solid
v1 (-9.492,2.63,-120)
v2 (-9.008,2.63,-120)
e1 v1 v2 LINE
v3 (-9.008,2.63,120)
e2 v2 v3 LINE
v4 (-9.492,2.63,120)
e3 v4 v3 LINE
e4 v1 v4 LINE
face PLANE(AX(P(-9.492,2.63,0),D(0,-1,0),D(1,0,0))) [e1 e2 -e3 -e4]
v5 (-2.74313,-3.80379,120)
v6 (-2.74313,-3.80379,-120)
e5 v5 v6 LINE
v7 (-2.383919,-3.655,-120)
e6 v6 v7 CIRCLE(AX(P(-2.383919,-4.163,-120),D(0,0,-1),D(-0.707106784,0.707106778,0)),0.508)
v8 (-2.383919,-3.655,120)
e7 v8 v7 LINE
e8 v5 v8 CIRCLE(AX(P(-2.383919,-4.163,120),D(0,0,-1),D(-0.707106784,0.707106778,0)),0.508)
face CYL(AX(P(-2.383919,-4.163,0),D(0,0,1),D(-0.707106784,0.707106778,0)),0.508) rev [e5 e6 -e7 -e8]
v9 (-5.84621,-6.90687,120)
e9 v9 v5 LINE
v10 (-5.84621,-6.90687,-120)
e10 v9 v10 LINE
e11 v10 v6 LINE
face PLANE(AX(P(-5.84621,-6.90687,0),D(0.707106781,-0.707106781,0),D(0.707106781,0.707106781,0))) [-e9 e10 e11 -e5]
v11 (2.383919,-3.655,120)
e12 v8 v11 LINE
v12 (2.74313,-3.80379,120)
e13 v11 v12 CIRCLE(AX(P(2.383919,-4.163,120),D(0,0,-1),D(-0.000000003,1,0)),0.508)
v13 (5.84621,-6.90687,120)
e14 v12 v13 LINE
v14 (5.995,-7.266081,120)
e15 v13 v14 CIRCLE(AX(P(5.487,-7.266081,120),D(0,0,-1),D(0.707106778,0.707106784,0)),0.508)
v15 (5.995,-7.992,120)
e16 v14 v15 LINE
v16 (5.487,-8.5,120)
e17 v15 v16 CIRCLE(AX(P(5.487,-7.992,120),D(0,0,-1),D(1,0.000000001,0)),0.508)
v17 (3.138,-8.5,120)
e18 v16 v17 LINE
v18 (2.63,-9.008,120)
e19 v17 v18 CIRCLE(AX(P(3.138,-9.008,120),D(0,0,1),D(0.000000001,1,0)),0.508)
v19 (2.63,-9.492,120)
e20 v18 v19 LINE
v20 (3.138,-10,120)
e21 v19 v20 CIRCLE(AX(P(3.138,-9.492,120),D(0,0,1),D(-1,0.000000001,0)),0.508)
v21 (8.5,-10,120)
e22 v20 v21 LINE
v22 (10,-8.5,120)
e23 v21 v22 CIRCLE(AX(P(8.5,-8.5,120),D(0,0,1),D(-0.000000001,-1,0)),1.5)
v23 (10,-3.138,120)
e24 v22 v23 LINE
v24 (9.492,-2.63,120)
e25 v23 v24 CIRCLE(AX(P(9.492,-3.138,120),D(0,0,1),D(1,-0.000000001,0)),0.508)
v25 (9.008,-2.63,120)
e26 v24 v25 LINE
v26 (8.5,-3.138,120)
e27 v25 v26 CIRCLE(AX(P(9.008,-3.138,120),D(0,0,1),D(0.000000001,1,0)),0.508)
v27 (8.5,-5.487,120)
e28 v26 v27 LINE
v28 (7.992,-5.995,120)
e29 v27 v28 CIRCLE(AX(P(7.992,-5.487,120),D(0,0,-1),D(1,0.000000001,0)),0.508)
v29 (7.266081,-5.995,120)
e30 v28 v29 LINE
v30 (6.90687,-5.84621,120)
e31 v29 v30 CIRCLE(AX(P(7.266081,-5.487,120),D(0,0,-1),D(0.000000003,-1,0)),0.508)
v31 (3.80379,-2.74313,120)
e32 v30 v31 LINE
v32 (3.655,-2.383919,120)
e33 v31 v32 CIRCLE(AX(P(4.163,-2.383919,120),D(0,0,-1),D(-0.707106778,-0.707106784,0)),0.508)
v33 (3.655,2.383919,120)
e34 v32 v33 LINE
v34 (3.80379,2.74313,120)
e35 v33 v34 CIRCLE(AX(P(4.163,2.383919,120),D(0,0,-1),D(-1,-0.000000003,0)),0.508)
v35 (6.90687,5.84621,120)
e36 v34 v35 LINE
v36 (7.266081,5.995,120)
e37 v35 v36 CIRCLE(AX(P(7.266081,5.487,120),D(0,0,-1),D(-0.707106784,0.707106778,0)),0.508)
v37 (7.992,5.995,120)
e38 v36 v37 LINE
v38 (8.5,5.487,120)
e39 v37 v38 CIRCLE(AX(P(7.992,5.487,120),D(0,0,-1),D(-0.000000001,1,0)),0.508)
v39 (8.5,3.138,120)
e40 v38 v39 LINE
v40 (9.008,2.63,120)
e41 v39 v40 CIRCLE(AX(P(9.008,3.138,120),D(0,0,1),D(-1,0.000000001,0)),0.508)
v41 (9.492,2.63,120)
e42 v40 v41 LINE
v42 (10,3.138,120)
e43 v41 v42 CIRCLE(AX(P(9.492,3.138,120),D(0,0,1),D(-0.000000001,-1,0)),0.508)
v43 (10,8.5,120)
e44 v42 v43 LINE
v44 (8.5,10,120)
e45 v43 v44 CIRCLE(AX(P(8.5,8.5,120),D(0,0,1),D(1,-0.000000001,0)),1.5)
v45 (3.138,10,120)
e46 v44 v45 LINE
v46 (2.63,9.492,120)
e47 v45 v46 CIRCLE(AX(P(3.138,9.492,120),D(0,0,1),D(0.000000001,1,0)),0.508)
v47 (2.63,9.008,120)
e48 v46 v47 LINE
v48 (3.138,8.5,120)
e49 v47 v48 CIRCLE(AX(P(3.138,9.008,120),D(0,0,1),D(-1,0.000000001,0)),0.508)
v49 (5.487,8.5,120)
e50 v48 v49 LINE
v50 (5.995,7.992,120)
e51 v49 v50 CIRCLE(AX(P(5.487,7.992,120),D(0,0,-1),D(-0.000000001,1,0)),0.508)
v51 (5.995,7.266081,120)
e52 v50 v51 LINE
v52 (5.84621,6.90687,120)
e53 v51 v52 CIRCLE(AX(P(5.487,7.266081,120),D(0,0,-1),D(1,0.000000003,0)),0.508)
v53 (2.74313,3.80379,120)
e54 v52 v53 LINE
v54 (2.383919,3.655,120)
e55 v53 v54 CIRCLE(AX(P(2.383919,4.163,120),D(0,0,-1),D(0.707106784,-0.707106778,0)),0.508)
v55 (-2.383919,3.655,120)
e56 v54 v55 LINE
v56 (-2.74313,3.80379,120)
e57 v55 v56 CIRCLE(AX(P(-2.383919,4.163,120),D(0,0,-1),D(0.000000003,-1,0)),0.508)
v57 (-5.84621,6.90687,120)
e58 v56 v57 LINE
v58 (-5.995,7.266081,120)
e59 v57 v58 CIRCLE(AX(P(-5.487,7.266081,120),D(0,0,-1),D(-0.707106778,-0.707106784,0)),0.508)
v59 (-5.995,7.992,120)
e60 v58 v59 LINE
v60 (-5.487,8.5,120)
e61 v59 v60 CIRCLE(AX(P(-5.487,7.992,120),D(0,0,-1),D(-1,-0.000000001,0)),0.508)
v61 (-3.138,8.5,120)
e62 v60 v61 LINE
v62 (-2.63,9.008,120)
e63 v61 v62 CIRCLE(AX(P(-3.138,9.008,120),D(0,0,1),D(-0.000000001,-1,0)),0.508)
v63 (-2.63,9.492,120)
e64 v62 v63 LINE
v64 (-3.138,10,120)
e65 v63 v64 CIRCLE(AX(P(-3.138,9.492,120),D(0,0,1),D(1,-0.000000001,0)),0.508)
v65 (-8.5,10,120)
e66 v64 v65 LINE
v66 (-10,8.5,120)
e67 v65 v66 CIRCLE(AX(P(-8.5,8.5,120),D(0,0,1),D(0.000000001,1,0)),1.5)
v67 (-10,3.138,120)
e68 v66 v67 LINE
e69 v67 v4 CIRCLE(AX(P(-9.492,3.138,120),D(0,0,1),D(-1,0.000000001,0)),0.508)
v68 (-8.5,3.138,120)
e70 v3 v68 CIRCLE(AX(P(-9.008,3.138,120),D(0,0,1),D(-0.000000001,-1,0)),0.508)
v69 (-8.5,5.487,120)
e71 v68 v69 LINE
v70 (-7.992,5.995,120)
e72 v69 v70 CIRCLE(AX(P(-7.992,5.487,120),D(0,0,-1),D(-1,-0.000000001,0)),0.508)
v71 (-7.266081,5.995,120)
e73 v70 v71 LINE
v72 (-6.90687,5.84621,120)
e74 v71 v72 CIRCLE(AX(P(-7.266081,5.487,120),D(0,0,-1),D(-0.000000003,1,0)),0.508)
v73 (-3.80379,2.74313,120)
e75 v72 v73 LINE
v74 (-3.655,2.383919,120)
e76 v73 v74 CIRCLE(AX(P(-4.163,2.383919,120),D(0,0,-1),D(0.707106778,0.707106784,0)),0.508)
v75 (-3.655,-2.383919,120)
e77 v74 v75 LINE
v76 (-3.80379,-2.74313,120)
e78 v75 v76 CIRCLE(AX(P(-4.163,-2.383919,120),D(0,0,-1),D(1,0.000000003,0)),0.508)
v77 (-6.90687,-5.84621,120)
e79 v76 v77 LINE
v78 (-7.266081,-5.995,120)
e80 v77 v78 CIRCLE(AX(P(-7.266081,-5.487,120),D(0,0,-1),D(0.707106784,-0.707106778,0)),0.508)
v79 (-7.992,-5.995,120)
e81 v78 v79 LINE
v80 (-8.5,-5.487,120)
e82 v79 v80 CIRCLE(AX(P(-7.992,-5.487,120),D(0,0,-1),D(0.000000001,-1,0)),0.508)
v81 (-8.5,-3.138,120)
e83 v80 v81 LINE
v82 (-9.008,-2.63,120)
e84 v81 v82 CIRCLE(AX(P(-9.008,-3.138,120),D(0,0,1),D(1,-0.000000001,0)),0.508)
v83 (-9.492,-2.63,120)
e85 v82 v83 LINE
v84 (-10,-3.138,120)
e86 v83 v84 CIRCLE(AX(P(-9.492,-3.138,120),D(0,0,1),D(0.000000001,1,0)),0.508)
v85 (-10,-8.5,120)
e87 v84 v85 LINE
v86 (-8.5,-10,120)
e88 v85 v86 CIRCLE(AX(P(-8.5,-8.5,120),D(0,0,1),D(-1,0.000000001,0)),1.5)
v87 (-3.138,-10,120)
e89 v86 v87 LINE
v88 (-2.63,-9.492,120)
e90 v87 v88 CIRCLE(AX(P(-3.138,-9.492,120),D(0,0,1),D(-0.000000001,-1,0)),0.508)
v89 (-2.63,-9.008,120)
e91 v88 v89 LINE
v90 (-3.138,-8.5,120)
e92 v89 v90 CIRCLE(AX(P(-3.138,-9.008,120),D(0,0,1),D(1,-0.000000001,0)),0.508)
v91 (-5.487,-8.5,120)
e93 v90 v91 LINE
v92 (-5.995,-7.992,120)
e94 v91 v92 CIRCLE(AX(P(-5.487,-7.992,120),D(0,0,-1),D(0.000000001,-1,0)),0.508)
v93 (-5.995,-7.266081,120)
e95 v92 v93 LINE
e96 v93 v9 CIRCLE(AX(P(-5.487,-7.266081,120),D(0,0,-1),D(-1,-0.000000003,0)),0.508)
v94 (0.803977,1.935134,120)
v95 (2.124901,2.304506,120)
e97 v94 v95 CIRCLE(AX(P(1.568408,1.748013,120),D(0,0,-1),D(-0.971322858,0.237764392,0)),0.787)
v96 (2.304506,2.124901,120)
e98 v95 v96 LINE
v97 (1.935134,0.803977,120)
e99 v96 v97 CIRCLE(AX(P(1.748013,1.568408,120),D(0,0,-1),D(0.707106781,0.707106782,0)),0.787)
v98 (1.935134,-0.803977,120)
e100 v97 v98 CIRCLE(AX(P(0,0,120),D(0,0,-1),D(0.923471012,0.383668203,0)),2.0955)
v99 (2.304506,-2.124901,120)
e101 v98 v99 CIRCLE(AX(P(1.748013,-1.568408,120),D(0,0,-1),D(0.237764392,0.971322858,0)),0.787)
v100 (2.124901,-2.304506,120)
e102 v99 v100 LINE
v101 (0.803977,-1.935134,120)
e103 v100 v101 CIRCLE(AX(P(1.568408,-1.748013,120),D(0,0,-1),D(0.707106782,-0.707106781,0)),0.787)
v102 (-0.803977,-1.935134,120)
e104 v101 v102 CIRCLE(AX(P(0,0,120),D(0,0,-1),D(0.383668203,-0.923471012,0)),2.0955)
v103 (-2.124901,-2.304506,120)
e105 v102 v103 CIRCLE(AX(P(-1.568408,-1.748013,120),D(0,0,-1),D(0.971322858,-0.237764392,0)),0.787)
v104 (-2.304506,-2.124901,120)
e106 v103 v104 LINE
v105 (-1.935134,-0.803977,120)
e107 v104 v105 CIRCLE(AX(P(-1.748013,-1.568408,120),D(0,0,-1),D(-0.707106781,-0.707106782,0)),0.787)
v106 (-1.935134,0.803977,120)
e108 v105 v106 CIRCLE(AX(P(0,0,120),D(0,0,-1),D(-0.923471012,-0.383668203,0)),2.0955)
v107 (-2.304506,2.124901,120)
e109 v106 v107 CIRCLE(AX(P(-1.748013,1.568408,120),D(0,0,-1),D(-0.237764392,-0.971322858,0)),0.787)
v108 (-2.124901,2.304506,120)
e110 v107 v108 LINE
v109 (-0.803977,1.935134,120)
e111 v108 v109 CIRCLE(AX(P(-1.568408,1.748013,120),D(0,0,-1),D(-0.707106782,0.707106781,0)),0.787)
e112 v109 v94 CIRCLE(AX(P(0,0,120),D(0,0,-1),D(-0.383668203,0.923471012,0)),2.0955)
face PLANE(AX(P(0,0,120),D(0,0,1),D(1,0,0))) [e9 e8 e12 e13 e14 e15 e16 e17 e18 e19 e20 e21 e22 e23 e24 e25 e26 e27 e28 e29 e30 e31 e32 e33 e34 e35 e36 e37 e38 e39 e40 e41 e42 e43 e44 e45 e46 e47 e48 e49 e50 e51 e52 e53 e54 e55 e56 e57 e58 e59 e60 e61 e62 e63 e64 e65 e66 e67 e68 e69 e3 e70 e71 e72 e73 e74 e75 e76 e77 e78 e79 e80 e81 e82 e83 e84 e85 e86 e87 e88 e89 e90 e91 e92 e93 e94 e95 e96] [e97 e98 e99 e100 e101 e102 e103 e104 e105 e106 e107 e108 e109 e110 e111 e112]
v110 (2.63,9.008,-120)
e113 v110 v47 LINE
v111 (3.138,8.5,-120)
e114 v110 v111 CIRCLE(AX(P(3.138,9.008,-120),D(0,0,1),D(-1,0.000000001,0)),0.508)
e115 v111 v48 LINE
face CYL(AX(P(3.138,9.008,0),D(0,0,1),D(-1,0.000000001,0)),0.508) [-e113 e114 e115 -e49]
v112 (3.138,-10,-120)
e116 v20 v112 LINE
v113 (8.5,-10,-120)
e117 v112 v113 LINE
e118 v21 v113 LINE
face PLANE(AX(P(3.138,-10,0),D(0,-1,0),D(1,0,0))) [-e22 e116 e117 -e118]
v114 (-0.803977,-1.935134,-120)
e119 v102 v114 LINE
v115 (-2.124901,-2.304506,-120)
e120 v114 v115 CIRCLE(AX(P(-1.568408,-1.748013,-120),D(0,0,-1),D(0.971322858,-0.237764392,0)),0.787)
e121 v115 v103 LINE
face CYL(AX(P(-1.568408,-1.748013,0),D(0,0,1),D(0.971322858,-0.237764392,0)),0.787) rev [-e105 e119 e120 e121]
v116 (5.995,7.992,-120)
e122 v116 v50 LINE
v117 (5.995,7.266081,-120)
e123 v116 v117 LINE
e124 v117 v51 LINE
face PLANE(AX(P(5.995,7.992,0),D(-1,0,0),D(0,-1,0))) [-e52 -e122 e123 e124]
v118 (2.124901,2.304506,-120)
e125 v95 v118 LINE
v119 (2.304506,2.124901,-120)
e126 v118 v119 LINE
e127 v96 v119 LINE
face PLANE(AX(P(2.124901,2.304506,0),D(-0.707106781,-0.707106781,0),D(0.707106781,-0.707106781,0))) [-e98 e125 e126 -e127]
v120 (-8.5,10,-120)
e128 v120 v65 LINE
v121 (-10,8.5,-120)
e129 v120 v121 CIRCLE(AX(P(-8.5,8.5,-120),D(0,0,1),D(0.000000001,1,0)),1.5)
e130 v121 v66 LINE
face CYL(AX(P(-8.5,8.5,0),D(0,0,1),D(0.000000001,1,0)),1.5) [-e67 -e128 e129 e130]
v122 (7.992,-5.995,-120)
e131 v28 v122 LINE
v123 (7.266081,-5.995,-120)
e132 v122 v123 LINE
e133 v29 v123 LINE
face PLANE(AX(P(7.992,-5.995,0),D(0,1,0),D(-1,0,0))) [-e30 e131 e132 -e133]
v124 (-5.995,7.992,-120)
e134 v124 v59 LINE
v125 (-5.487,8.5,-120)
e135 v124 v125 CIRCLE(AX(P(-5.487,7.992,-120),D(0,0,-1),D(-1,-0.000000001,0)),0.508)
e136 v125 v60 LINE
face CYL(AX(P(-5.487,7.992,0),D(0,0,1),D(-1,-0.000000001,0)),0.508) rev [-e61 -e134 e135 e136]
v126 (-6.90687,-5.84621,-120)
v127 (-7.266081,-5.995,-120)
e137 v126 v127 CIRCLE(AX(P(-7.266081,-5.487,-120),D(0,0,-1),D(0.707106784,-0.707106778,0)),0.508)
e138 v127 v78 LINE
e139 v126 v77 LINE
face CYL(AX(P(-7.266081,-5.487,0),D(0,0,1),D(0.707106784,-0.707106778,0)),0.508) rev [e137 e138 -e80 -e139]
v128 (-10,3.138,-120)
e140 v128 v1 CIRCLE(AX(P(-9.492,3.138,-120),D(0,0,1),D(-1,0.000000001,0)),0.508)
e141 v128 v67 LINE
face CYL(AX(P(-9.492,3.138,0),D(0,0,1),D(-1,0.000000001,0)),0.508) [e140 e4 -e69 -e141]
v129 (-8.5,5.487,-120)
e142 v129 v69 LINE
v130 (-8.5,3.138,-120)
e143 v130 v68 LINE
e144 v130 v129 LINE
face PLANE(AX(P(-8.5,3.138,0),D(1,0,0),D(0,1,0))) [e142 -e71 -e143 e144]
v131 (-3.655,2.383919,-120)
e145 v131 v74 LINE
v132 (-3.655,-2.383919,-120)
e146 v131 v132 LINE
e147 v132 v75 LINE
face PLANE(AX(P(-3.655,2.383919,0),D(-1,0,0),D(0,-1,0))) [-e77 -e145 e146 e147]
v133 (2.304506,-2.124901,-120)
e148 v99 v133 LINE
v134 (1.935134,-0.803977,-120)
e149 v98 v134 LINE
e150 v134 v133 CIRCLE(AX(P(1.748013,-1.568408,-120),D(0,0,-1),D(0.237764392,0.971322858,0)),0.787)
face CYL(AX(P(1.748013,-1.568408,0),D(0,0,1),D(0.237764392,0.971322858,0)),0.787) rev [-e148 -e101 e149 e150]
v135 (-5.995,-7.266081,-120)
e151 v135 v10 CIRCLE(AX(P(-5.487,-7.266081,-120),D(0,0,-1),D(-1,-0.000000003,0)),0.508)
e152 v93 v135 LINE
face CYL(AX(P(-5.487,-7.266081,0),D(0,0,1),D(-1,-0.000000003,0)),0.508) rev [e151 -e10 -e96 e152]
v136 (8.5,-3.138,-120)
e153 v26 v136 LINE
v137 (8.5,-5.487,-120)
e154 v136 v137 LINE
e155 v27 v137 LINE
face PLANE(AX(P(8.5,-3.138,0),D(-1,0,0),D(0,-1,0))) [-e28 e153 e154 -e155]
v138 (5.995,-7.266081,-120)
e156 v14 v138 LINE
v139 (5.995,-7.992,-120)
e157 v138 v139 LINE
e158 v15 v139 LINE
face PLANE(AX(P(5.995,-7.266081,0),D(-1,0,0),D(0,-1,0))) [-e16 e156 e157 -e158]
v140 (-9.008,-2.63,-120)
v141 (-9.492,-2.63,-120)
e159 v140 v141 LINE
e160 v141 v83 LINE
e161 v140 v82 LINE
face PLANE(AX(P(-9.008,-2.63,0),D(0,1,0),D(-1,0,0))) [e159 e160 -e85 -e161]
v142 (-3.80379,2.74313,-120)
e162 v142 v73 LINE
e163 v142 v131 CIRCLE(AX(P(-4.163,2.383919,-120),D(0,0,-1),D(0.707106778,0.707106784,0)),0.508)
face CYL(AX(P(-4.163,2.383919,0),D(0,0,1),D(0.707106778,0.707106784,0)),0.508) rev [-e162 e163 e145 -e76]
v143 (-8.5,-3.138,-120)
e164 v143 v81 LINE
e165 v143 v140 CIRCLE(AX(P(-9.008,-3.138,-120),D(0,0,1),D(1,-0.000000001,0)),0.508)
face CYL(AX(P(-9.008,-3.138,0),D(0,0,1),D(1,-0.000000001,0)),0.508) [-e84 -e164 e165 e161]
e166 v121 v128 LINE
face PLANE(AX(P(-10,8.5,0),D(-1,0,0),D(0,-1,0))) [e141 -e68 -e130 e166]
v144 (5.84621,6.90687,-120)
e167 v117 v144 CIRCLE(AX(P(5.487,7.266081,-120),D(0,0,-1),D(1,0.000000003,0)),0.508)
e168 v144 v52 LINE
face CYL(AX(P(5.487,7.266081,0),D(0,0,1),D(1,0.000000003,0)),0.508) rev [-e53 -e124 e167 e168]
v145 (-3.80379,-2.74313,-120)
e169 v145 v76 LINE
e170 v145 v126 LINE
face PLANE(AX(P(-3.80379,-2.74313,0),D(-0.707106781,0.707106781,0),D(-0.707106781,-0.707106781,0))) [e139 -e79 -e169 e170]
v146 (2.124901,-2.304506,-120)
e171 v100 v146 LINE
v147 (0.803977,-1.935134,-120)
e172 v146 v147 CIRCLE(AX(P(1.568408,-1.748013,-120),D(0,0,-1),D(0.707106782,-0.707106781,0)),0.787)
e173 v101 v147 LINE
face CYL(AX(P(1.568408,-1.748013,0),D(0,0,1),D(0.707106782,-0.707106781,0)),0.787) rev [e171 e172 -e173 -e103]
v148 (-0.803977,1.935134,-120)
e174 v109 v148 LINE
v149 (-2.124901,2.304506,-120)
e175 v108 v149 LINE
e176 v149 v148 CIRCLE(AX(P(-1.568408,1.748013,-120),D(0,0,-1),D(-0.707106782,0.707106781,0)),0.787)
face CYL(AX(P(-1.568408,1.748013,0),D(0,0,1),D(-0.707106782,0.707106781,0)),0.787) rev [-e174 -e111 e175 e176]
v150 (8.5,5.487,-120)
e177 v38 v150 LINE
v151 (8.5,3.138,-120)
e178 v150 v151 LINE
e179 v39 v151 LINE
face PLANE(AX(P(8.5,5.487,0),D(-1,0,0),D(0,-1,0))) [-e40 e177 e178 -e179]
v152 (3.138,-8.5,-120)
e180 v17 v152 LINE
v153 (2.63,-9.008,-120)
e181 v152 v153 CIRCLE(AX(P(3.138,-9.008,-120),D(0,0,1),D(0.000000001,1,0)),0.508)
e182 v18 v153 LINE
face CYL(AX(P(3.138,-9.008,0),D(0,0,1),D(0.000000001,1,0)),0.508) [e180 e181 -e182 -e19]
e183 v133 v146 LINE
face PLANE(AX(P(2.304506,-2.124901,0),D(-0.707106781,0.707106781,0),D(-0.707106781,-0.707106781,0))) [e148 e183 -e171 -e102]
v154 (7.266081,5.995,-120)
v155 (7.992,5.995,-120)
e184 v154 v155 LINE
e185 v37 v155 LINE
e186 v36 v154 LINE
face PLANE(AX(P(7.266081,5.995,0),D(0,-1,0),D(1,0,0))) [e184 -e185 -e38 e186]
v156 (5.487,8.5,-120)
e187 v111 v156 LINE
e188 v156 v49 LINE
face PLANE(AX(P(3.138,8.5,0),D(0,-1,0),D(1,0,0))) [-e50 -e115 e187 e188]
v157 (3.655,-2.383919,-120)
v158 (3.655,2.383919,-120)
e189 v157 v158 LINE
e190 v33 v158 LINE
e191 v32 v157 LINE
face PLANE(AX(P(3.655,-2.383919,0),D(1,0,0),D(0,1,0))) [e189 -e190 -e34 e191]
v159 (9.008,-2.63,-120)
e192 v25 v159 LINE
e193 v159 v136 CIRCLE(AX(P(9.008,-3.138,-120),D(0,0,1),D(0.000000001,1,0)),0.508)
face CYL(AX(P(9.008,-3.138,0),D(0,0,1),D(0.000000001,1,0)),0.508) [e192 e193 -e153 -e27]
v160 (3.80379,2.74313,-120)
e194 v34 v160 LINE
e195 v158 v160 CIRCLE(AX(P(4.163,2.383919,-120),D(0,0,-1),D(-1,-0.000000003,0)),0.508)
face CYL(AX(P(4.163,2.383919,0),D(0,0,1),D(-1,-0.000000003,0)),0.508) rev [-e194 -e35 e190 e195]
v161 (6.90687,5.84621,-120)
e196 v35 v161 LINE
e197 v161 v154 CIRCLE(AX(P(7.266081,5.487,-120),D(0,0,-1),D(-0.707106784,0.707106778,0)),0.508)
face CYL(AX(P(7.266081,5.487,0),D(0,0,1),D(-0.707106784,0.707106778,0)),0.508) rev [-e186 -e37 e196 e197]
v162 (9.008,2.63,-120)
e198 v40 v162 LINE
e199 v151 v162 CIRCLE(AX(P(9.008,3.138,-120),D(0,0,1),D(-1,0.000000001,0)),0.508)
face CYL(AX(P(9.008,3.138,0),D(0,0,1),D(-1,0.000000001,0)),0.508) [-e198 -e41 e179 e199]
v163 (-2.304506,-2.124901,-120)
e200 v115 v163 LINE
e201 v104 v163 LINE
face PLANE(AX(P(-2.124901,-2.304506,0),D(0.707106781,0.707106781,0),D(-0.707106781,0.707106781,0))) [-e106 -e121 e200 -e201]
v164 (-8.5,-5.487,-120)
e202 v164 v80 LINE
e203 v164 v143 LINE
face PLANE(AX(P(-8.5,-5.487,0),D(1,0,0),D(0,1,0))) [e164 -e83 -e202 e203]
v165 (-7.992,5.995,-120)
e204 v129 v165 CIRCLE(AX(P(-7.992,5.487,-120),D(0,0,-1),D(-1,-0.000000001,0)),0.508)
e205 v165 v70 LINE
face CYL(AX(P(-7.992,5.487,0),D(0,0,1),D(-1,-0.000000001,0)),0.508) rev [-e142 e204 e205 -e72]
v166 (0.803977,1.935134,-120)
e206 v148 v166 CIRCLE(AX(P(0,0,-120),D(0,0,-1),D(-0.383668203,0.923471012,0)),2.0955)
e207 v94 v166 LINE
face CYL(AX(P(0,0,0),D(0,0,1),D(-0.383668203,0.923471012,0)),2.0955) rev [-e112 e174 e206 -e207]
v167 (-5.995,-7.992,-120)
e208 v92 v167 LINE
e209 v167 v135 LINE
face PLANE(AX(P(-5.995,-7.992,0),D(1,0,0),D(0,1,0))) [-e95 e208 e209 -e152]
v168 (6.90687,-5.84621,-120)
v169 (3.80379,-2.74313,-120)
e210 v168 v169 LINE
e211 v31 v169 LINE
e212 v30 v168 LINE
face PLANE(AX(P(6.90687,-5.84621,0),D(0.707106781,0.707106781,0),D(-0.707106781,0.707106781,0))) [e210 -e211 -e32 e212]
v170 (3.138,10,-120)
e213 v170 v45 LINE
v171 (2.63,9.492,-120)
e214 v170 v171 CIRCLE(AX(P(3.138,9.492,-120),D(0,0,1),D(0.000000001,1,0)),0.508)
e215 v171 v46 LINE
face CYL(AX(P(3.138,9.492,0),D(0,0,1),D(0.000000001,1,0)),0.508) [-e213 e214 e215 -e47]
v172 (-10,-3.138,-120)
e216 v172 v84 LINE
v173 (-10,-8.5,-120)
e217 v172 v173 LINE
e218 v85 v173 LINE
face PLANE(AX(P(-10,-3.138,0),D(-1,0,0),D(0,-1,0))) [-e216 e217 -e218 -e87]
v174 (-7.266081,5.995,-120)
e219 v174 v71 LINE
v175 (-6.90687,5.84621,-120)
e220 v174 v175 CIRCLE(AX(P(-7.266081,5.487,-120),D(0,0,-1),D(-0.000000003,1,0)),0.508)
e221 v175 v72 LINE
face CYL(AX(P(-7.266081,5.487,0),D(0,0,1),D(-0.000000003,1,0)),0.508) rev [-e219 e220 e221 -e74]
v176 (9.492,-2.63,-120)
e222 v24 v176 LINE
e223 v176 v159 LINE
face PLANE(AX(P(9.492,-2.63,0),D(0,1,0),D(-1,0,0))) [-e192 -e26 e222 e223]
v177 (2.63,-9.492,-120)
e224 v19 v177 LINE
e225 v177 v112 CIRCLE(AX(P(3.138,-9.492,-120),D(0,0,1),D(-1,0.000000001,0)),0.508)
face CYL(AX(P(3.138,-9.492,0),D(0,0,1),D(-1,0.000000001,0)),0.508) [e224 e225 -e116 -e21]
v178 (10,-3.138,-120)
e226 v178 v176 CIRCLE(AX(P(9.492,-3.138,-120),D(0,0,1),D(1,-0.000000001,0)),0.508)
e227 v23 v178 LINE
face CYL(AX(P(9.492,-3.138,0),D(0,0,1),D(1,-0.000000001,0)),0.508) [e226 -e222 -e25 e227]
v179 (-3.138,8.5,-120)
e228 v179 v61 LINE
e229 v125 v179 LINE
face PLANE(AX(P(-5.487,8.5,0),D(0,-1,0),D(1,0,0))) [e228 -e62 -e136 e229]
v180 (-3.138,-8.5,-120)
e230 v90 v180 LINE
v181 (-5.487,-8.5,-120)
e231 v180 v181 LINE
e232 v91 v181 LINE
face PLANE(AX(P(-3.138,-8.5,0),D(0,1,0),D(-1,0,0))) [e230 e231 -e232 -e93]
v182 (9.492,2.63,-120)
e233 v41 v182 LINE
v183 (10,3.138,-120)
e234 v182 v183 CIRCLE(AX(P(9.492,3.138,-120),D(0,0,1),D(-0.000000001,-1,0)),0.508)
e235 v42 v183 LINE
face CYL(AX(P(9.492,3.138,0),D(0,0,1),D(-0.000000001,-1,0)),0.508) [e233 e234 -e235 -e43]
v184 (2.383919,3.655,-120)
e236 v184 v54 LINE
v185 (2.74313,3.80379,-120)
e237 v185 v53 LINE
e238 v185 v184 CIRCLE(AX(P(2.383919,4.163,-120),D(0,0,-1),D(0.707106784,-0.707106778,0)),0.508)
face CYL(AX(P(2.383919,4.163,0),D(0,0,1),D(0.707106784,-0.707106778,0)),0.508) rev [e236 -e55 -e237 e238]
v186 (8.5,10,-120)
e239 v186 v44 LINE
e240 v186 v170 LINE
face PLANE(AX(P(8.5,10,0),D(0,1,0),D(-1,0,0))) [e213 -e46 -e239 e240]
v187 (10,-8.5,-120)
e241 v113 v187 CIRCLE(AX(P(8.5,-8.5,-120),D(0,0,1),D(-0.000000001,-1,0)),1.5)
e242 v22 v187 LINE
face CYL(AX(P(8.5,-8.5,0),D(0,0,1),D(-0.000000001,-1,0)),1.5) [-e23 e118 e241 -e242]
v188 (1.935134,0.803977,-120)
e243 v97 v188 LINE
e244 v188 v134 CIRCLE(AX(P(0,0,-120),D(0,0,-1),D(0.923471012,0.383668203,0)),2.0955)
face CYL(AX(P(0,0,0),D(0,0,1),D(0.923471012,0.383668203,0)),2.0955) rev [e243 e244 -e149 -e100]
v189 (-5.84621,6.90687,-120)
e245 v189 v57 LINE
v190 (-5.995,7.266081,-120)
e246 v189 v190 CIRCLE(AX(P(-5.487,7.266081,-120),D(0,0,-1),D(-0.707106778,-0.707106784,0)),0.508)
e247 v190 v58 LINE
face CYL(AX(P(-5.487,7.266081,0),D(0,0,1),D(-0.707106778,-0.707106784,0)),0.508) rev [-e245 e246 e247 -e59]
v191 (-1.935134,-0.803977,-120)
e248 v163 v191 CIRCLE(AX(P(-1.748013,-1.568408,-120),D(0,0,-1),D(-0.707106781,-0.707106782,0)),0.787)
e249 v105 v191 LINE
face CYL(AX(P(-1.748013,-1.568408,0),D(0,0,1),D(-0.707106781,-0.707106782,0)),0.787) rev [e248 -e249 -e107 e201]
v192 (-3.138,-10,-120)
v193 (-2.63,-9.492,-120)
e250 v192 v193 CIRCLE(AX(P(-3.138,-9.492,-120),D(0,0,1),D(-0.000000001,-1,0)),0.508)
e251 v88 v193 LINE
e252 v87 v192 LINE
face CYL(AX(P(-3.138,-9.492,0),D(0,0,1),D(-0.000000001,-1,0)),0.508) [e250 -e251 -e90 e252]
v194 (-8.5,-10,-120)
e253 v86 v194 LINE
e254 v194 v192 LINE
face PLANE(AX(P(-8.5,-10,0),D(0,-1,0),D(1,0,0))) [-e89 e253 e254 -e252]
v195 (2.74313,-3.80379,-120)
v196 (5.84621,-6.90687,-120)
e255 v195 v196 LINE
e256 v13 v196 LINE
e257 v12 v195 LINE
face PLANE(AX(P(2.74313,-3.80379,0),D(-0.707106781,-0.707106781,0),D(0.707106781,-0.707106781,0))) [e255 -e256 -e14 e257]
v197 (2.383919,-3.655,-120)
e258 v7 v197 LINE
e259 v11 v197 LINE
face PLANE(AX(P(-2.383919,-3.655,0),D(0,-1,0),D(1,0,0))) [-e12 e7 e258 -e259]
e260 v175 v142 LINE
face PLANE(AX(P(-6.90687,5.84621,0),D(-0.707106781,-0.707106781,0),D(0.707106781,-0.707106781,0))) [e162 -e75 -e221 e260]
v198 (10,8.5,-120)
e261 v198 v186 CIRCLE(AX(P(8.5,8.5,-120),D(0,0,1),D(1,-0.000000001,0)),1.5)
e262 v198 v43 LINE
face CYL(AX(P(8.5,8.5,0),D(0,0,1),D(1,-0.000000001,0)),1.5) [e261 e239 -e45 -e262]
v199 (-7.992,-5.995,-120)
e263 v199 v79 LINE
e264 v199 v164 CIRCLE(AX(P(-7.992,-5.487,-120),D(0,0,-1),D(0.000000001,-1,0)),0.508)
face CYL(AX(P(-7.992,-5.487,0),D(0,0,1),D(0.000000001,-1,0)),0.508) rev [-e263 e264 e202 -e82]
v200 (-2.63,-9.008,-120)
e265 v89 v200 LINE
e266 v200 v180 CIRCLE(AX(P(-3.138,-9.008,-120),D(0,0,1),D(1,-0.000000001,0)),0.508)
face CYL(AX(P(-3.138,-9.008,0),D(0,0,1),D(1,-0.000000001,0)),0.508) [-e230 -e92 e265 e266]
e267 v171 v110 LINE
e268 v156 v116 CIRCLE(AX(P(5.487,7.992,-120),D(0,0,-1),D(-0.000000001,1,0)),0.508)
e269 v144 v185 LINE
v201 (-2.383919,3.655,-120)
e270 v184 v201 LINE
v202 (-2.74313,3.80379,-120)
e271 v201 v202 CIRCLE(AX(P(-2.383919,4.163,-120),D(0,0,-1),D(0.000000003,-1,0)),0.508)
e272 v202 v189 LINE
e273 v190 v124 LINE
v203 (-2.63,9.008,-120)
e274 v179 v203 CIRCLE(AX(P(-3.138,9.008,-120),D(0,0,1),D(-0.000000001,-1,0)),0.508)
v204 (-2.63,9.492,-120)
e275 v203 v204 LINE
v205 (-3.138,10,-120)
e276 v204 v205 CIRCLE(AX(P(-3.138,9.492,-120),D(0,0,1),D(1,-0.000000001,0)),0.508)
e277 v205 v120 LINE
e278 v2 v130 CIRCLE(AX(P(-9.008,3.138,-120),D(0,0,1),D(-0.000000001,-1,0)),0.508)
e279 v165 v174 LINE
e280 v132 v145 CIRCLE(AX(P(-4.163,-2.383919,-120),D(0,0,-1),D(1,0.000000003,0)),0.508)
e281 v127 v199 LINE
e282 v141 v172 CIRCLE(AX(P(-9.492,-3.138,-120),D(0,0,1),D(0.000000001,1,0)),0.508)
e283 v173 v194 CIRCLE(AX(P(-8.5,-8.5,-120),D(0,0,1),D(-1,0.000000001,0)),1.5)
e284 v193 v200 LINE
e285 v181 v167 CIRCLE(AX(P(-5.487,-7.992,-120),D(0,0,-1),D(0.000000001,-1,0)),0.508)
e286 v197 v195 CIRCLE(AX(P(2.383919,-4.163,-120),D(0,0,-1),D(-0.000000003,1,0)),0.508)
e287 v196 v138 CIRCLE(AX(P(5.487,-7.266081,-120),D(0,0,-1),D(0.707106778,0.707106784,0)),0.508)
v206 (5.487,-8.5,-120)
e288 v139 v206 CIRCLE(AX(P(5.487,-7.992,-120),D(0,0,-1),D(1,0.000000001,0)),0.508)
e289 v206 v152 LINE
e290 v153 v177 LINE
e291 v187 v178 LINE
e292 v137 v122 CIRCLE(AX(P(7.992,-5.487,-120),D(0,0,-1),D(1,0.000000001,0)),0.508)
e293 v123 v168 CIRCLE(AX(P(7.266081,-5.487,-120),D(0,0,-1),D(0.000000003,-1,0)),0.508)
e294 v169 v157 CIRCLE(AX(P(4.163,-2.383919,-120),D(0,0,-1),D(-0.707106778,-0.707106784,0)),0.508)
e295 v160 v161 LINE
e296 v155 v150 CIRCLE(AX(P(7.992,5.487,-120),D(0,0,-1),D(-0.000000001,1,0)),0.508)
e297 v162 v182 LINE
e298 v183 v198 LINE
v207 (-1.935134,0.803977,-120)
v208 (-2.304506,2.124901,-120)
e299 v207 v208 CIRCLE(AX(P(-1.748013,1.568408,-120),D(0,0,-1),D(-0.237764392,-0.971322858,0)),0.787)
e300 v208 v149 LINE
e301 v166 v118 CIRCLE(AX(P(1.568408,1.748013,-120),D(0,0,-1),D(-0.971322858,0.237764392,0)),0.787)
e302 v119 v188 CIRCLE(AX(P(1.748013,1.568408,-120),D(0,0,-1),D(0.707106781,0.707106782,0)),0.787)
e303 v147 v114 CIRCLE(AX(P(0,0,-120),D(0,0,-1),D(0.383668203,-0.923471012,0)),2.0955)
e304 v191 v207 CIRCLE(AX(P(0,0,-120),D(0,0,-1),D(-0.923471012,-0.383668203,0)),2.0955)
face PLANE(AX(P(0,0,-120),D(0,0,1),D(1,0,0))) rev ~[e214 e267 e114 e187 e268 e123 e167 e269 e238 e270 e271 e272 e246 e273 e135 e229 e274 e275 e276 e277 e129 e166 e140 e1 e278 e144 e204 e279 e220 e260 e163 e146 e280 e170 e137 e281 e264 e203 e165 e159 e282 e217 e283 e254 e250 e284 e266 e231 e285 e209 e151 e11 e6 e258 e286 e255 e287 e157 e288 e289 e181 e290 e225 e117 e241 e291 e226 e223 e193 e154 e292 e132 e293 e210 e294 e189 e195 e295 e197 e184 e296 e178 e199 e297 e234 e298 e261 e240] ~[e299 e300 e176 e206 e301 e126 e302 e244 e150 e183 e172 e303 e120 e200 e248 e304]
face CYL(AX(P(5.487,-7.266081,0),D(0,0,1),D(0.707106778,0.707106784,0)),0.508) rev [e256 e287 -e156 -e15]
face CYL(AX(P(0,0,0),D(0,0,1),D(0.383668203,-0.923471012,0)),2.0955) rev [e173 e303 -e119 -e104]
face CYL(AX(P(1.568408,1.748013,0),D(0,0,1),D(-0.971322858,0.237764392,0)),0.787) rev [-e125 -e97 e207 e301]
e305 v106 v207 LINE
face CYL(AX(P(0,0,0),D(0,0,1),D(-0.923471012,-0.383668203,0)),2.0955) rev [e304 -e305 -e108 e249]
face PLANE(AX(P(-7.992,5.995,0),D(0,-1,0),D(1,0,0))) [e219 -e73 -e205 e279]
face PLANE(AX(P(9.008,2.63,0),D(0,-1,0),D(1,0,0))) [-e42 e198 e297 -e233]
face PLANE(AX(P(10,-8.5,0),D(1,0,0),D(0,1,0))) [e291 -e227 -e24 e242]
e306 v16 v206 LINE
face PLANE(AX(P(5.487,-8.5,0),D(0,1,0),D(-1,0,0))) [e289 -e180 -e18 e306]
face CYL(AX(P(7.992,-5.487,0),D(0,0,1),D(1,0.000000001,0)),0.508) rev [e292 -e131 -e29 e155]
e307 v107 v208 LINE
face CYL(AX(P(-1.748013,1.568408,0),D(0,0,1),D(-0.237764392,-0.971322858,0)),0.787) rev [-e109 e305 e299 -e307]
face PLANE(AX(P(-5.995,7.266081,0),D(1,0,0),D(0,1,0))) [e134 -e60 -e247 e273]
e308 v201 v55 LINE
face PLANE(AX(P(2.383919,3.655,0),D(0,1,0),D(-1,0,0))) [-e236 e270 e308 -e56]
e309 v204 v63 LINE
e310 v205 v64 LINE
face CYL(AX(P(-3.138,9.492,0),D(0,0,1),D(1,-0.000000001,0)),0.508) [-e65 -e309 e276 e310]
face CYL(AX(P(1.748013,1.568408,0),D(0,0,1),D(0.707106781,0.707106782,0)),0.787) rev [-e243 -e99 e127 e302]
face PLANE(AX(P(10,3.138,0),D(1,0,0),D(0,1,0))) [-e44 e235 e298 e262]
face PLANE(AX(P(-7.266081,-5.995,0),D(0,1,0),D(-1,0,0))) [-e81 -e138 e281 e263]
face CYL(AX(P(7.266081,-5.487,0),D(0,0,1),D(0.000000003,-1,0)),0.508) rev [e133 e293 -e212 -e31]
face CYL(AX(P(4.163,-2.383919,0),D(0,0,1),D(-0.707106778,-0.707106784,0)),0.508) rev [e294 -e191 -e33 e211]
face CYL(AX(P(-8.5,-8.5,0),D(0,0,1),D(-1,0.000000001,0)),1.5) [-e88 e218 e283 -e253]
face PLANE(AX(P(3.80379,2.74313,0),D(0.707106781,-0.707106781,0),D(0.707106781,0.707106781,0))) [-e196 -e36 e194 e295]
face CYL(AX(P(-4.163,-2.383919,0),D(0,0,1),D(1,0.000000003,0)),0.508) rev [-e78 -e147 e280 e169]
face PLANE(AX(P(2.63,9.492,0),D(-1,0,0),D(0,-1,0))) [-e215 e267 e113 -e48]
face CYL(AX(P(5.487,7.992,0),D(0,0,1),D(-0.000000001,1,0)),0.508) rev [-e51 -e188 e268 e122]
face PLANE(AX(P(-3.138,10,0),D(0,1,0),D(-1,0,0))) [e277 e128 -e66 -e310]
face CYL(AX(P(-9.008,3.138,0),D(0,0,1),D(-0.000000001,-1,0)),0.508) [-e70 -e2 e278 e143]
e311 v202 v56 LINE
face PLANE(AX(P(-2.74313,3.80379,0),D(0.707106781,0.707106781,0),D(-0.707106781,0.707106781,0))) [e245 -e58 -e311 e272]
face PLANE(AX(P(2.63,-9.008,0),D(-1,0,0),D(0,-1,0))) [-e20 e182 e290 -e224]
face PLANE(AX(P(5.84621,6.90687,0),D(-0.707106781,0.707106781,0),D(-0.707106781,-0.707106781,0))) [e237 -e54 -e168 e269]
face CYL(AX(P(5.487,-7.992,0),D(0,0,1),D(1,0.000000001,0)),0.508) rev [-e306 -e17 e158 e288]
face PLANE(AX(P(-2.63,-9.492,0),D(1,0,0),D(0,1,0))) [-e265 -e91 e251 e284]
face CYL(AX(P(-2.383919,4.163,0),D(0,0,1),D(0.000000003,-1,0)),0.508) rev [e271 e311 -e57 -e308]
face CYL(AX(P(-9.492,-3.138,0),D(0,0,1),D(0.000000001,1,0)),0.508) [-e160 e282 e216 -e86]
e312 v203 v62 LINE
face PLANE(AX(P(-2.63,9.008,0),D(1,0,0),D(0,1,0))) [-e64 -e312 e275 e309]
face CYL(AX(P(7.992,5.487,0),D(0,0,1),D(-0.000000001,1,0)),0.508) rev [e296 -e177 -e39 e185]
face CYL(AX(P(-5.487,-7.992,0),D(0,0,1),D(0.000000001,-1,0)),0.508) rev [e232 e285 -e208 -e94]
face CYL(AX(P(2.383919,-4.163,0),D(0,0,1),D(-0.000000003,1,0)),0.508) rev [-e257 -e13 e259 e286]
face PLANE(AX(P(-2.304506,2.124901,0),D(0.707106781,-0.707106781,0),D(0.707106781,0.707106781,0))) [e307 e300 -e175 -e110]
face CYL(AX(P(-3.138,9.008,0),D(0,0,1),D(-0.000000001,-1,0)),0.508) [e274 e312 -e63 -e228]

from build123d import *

# Parameters (mm, degrees)
BOSS_EXTRUDE1_DEPTH = 120


with BuildPart() as part:
    # Sketch1 → Boss-Extrude1 (new, symmetric)
    with BuildSketch(Plane.XY):
        with BuildLine():
            Line((10, 3.138), (10, 8.5))
            ThreePointArc((10, 8.5), (9.560660172, 9.560660172), (8.5, 10))
            Line((8.5, 10), (3.138, 10))
            ThreePointArc((3.138, 10), (2.778789755, 9.851210245), (2.63, 9.492))
            Line((2.63, 9.492), (2.63, 9.008))
            ThreePointArc((2.63, 9.008), (2.778789755, 8.648789755), (3.138, 8.5))
            Line((3.138, 8.5), (5.487, 8.5))
            ThreePointArc((5.487, 8.5), (5.846210245, 8.351210245), (5.995, 7.992))
            Line((5.995, 7.992), (5.995, 7.266080661))
            ThreePointArc((5.995, 7.266080661), (5.956330803, 7.071677478), (5.846210245, 6.906870417))
            Line((5.846210245, 6.906870417), (2.743129583, 3.803789755))
            ThreePointArc((2.743129583, 3.803789755), (2.578322522, 3.693669197), (2.383919339, 3.655))
            Line((2.383919339, 3.655), (-2.383919339, 3.655))
            ThreePointArc((-2.383919339, 3.655), (-2.578322522, 3.693669197), (-2.743129583, 3.803789755))
            Line((-2.743129583, 3.803789755), (-5.846210245, 6.906870417))
            ThreePointArc((-5.846210245, 6.906870417), (-5.956330803, 7.071677478), (-5.995, 7.266080661))
            Line((-5.995, 7.266080661), (-5.995, 7.992))
            ThreePointArc((-5.995, 7.992), (-5.846210245, 8.351210245), (-5.487, 8.5))
            Line((-5.487, 8.5), (-3.138, 8.5))
            ThreePointArc((-3.138, 8.5), (-2.778789755, 8.648789755), (-2.63, 9.008))
            Line((-2.63, 9.008), (-2.63, 9.492))
            ThreePointArc((-2.63, 9.492), (-2.778789755, 9.851210245), (-3.138, 10))
            Line((-3.138, 10), (-8.5, 10))
            ThreePointArc((-8.5, 10), (-9.560660172, 9.560660172), (-10, 8.5))
            Line((-10, 8.5), (-10, 3.138))
            ThreePointArc((-10, 3.138), (-9.851210245, 2.778789755), (-9.492, 2.63))
            Line((-9.492, 2.63), (-9.008, 2.63))
            ThreePointArc((-9.008, 2.63), (-8.648789755, 2.778789755), (-8.5, 3.138))
            Line((-8.5, 3.138), (-8.5, 5.487))
            ThreePointArc((-8.5, 5.487), (-8.351210245, 5.846210245), (-7.992, 5.995))
            Line((-7.992, 5.995), (-7.266080661, 5.995))
            ThreePointArc((-7.266080661, 5.995), (-7.071677478, 5.956330803), (-6.906870417, 5.846210245))
            Line((-6.906870417, 5.846210245), (-3.803789755, 2.743129583))
            ThreePointArc((-3.803789755, 2.743129583), (-3.693669197, 2.578322522), (-3.655, 2.383919339))
            Line((-3.655, 2.383919339), (-3.655, -2.383919339))
            ThreePointArc((-3.655, -2.383919339), (-3.693669197, -2.578322522), (-3.803789755, -2.743129583))
            Line((-3.803789755, -2.743129583), (-6.906870417, -5.846210245))
            ThreePointArc((-6.906870417, -5.846210245), (-7.071677478, -5.956330803), (-7.266080661, -5.995))
            Line((-7.266080661, -5.995), (-7.992, -5.995))
            ThreePointArc((-7.992, -5.995), (-8.351210245, -5.846210245), (-8.5, -5.487))
            Line((-8.5, -5.487), (-8.5, -3.138))
            ThreePointArc((-8.5, -3.138), (-8.648789755, -2.778789755), (-9.008, -2.63))
            Line((-9.008, -2.63), (-9.492, -2.63))
            ThreePointArc((-9.492, -2.63), (-9.851210245, -2.778789755), (-10, -3.138))
            Line((-10, -3.138), (-10, -8.5))
            ThreePointArc((-10, -8.5), (-9.560660172, -9.560660172), (-8.5, -10))
            Line((-8.5, -10), (-3.138, -10))
            ThreePointArc((-3.138, -10), (-2.778789755, -9.851210245), (-2.63, -9.492))
            Line((-2.63, -9.492), (-2.63, -9.008))
            ThreePointArc((-2.63, -9.008), (-2.778789755, -8.648789755), (-3.138, -8.5))
            Line((-3.138, -8.5), (-5.487, -8.5))
            ThreePointArc((-5.487, -8.5), (-5.846210245, -8.351210245), (-5.995, -7.992))
            Line((-5.995, -7.992), (-5.995, -7.266080661))
            ThreePointArc((-5.995, -7.266080661), (-5.956330803, -7.071677478), (-5.846210245, -6.906870417))
            Line((-5.846210245, -6.906870417), (-2.743129583, -3.803789755))
            ThreePointArc((-2.743129583, -3.803789755), (-2.578322522, -3.693669197), (-2.383919339, -3.655))
            Line((-2.383919339, -3.655), (2.383919339, -3.655))
            ThreePointArc((2.383919339, -3.655), (2.578322522, -3.693669197), (2.743129583, -3.803789755))
            Line((2.743129583, -3.803789755), (5.846210245, -6.906870417))
            ThreePointArc((5.846210245, -6.906870417), (5.956330803, -7.071677478), (5.995, -7.266080661))
            Line((5.995, -7.266080661), (5.995, -7.992))
            ThreePointArc((5.995, -7.992), (5.846210245, -8.351210245), (5.487, -8.5))
            Line((5.487, -8.5), (3.138, -8.5))
            ThreePointArc((3.138, -8.5), (2.778789755, -8.648789755), (2.63, -9.008))
            Line((2.63, -9.008), (2.63, -9.492))
            ThreePointArc((2.63, -9.492), (2.778789755, -9.851210245), (3.138, -10))
            Line((3.138, -10), (8.5, -10))
            ThreePointArc((8.5, -10), (9.560660172, -9.560660172), (10, -8.5))
            Line((10, -8.5), (10, -3.138))
            ThreePointArc((10, -3.138), (9.851210245, -2.778789755), (9.492, -2.63))
            Line((9.492, -2.63), (9.008, -2.63))
            ThreePointArc((9.008, -2.63), (8.648789755, -2.778789755), (8.5, -3.138))
            Line((8.5, -3.138), (8.5, -5.487))
            ThreePointArc((8.5, -5.487), (8.351210245, -5.846210245), (7.992, -5.995))
            Line((7.992, -5.995), (7.266080661, -5.995))
            ThreePointArc((7.266080661, -5.995), (7.071677478, -5.956330803), (6.906870417, -5.846210245))
            Line((6.906870417, -5.846210245), (3.803789755, -2.743129583))
            ThreePointArc((3.803789755, -2.743129583), (3.693669197, -2.578322522), (3.655, -2.383919339))
            Line((3.655, -2.383919339), (3.655, 2.383919339))
            ThreePointArc((3.655, 2.383919339), (3.693669197, 2.578322522), (3.803789755, 2.743129583))
            Line((3.803789755, 2.743129583), (6.906870417, 5.846210245))
            ThreePointArc((6.906870417, 5.846210245), (7.071677478, 5.956330803), (7.266080661, 5.995))
            Line((7.266080661, 5.995), (7.992, 5.995))
            ThreePointArc((7.992, 5.995), (8.351210245, 5.846210245), (8.5, 5.487))
            Line((8.5, 5.487), (8.5, 3.138))
            ThreePointArc((8.5, 3.138), (8.648789755, 2.778789755), (9.008, 2.63))
            Line((9.008, 2.63), (9.492, 2.63))
            ThreePointArc((9.492, 2.63), (9.851210245, 2.778789755), (10, 3.138))
        make_face()
        with BuildLine():
            Line((-2.124900844, -2.304505966), (-2.304505966, -2.124900844))
            ThreePointArc((-2.304505966, -2.124900844), (-2.505938017, -1.356467811), (-1.935133506, -0.803976718))
            ThreePointArc((-1.935133506, -0.803976718), (-2.0955, 0), (-1.935133506, 0.803976718))
            ThreePointArc((-1.935133506, 0.803976718), (-2.505938017, 1.356467811), (-2.304505966, 2.124900844))
            Line((-2.304505966, 2.124900844), (-2.124900844, 2.304505966))
            ThreePointArc((-2.124900844, 2.304505966), (-1.356467811, 2.505938017), (-0.803976718, 1.935133506))
            ThreePointArc((-0.803976718, 1.935133506), (0, 2.0955), (0.803976718, 1.935133506))
            ThreePointArc((0.803976718, 1.935133506), (1.356467811, 2.505938017), (2.124900844, 2.304505966))
            Line((2.124900844, 2.304505966), (2.304505966, 2.124900844))
            ThreePointArc((2.304505966, 2.124900844), (2.505938017, 1.356467811), (1.935133506, 0.803976718))
            ThreePointArc((1.935133506, 0.803976718), (2.0955, 0), (1.935133506, -0.803976718))
            ThreePointArc((1.935133506, -0.803976718), (2.505938017, -1.356467811), (2.304505966, -2.124900844))
            Line((2.304505966, -2.124900844), (2.124900844, -2.304505966))
            ThreePointArc((2.124900844, -2.304505966), (1.356467811, -2.505938017), (0.803976718, -1.935133506))
            ThreePointArc((0.803976718, -1.935133506), (0, -2.0955), (-0.803976718, -1.935133506))
            ThreePointArc((-0.803976718, -1.935133506), (-1.356467811, -2.505938017), (-2.124900844, -2.304505966))
        make_face(mode=Mode.SUBTRACT)
    extrude(amount=BOSS_EXTRUDE1_DEPTH, both=True)


solid = part.part
